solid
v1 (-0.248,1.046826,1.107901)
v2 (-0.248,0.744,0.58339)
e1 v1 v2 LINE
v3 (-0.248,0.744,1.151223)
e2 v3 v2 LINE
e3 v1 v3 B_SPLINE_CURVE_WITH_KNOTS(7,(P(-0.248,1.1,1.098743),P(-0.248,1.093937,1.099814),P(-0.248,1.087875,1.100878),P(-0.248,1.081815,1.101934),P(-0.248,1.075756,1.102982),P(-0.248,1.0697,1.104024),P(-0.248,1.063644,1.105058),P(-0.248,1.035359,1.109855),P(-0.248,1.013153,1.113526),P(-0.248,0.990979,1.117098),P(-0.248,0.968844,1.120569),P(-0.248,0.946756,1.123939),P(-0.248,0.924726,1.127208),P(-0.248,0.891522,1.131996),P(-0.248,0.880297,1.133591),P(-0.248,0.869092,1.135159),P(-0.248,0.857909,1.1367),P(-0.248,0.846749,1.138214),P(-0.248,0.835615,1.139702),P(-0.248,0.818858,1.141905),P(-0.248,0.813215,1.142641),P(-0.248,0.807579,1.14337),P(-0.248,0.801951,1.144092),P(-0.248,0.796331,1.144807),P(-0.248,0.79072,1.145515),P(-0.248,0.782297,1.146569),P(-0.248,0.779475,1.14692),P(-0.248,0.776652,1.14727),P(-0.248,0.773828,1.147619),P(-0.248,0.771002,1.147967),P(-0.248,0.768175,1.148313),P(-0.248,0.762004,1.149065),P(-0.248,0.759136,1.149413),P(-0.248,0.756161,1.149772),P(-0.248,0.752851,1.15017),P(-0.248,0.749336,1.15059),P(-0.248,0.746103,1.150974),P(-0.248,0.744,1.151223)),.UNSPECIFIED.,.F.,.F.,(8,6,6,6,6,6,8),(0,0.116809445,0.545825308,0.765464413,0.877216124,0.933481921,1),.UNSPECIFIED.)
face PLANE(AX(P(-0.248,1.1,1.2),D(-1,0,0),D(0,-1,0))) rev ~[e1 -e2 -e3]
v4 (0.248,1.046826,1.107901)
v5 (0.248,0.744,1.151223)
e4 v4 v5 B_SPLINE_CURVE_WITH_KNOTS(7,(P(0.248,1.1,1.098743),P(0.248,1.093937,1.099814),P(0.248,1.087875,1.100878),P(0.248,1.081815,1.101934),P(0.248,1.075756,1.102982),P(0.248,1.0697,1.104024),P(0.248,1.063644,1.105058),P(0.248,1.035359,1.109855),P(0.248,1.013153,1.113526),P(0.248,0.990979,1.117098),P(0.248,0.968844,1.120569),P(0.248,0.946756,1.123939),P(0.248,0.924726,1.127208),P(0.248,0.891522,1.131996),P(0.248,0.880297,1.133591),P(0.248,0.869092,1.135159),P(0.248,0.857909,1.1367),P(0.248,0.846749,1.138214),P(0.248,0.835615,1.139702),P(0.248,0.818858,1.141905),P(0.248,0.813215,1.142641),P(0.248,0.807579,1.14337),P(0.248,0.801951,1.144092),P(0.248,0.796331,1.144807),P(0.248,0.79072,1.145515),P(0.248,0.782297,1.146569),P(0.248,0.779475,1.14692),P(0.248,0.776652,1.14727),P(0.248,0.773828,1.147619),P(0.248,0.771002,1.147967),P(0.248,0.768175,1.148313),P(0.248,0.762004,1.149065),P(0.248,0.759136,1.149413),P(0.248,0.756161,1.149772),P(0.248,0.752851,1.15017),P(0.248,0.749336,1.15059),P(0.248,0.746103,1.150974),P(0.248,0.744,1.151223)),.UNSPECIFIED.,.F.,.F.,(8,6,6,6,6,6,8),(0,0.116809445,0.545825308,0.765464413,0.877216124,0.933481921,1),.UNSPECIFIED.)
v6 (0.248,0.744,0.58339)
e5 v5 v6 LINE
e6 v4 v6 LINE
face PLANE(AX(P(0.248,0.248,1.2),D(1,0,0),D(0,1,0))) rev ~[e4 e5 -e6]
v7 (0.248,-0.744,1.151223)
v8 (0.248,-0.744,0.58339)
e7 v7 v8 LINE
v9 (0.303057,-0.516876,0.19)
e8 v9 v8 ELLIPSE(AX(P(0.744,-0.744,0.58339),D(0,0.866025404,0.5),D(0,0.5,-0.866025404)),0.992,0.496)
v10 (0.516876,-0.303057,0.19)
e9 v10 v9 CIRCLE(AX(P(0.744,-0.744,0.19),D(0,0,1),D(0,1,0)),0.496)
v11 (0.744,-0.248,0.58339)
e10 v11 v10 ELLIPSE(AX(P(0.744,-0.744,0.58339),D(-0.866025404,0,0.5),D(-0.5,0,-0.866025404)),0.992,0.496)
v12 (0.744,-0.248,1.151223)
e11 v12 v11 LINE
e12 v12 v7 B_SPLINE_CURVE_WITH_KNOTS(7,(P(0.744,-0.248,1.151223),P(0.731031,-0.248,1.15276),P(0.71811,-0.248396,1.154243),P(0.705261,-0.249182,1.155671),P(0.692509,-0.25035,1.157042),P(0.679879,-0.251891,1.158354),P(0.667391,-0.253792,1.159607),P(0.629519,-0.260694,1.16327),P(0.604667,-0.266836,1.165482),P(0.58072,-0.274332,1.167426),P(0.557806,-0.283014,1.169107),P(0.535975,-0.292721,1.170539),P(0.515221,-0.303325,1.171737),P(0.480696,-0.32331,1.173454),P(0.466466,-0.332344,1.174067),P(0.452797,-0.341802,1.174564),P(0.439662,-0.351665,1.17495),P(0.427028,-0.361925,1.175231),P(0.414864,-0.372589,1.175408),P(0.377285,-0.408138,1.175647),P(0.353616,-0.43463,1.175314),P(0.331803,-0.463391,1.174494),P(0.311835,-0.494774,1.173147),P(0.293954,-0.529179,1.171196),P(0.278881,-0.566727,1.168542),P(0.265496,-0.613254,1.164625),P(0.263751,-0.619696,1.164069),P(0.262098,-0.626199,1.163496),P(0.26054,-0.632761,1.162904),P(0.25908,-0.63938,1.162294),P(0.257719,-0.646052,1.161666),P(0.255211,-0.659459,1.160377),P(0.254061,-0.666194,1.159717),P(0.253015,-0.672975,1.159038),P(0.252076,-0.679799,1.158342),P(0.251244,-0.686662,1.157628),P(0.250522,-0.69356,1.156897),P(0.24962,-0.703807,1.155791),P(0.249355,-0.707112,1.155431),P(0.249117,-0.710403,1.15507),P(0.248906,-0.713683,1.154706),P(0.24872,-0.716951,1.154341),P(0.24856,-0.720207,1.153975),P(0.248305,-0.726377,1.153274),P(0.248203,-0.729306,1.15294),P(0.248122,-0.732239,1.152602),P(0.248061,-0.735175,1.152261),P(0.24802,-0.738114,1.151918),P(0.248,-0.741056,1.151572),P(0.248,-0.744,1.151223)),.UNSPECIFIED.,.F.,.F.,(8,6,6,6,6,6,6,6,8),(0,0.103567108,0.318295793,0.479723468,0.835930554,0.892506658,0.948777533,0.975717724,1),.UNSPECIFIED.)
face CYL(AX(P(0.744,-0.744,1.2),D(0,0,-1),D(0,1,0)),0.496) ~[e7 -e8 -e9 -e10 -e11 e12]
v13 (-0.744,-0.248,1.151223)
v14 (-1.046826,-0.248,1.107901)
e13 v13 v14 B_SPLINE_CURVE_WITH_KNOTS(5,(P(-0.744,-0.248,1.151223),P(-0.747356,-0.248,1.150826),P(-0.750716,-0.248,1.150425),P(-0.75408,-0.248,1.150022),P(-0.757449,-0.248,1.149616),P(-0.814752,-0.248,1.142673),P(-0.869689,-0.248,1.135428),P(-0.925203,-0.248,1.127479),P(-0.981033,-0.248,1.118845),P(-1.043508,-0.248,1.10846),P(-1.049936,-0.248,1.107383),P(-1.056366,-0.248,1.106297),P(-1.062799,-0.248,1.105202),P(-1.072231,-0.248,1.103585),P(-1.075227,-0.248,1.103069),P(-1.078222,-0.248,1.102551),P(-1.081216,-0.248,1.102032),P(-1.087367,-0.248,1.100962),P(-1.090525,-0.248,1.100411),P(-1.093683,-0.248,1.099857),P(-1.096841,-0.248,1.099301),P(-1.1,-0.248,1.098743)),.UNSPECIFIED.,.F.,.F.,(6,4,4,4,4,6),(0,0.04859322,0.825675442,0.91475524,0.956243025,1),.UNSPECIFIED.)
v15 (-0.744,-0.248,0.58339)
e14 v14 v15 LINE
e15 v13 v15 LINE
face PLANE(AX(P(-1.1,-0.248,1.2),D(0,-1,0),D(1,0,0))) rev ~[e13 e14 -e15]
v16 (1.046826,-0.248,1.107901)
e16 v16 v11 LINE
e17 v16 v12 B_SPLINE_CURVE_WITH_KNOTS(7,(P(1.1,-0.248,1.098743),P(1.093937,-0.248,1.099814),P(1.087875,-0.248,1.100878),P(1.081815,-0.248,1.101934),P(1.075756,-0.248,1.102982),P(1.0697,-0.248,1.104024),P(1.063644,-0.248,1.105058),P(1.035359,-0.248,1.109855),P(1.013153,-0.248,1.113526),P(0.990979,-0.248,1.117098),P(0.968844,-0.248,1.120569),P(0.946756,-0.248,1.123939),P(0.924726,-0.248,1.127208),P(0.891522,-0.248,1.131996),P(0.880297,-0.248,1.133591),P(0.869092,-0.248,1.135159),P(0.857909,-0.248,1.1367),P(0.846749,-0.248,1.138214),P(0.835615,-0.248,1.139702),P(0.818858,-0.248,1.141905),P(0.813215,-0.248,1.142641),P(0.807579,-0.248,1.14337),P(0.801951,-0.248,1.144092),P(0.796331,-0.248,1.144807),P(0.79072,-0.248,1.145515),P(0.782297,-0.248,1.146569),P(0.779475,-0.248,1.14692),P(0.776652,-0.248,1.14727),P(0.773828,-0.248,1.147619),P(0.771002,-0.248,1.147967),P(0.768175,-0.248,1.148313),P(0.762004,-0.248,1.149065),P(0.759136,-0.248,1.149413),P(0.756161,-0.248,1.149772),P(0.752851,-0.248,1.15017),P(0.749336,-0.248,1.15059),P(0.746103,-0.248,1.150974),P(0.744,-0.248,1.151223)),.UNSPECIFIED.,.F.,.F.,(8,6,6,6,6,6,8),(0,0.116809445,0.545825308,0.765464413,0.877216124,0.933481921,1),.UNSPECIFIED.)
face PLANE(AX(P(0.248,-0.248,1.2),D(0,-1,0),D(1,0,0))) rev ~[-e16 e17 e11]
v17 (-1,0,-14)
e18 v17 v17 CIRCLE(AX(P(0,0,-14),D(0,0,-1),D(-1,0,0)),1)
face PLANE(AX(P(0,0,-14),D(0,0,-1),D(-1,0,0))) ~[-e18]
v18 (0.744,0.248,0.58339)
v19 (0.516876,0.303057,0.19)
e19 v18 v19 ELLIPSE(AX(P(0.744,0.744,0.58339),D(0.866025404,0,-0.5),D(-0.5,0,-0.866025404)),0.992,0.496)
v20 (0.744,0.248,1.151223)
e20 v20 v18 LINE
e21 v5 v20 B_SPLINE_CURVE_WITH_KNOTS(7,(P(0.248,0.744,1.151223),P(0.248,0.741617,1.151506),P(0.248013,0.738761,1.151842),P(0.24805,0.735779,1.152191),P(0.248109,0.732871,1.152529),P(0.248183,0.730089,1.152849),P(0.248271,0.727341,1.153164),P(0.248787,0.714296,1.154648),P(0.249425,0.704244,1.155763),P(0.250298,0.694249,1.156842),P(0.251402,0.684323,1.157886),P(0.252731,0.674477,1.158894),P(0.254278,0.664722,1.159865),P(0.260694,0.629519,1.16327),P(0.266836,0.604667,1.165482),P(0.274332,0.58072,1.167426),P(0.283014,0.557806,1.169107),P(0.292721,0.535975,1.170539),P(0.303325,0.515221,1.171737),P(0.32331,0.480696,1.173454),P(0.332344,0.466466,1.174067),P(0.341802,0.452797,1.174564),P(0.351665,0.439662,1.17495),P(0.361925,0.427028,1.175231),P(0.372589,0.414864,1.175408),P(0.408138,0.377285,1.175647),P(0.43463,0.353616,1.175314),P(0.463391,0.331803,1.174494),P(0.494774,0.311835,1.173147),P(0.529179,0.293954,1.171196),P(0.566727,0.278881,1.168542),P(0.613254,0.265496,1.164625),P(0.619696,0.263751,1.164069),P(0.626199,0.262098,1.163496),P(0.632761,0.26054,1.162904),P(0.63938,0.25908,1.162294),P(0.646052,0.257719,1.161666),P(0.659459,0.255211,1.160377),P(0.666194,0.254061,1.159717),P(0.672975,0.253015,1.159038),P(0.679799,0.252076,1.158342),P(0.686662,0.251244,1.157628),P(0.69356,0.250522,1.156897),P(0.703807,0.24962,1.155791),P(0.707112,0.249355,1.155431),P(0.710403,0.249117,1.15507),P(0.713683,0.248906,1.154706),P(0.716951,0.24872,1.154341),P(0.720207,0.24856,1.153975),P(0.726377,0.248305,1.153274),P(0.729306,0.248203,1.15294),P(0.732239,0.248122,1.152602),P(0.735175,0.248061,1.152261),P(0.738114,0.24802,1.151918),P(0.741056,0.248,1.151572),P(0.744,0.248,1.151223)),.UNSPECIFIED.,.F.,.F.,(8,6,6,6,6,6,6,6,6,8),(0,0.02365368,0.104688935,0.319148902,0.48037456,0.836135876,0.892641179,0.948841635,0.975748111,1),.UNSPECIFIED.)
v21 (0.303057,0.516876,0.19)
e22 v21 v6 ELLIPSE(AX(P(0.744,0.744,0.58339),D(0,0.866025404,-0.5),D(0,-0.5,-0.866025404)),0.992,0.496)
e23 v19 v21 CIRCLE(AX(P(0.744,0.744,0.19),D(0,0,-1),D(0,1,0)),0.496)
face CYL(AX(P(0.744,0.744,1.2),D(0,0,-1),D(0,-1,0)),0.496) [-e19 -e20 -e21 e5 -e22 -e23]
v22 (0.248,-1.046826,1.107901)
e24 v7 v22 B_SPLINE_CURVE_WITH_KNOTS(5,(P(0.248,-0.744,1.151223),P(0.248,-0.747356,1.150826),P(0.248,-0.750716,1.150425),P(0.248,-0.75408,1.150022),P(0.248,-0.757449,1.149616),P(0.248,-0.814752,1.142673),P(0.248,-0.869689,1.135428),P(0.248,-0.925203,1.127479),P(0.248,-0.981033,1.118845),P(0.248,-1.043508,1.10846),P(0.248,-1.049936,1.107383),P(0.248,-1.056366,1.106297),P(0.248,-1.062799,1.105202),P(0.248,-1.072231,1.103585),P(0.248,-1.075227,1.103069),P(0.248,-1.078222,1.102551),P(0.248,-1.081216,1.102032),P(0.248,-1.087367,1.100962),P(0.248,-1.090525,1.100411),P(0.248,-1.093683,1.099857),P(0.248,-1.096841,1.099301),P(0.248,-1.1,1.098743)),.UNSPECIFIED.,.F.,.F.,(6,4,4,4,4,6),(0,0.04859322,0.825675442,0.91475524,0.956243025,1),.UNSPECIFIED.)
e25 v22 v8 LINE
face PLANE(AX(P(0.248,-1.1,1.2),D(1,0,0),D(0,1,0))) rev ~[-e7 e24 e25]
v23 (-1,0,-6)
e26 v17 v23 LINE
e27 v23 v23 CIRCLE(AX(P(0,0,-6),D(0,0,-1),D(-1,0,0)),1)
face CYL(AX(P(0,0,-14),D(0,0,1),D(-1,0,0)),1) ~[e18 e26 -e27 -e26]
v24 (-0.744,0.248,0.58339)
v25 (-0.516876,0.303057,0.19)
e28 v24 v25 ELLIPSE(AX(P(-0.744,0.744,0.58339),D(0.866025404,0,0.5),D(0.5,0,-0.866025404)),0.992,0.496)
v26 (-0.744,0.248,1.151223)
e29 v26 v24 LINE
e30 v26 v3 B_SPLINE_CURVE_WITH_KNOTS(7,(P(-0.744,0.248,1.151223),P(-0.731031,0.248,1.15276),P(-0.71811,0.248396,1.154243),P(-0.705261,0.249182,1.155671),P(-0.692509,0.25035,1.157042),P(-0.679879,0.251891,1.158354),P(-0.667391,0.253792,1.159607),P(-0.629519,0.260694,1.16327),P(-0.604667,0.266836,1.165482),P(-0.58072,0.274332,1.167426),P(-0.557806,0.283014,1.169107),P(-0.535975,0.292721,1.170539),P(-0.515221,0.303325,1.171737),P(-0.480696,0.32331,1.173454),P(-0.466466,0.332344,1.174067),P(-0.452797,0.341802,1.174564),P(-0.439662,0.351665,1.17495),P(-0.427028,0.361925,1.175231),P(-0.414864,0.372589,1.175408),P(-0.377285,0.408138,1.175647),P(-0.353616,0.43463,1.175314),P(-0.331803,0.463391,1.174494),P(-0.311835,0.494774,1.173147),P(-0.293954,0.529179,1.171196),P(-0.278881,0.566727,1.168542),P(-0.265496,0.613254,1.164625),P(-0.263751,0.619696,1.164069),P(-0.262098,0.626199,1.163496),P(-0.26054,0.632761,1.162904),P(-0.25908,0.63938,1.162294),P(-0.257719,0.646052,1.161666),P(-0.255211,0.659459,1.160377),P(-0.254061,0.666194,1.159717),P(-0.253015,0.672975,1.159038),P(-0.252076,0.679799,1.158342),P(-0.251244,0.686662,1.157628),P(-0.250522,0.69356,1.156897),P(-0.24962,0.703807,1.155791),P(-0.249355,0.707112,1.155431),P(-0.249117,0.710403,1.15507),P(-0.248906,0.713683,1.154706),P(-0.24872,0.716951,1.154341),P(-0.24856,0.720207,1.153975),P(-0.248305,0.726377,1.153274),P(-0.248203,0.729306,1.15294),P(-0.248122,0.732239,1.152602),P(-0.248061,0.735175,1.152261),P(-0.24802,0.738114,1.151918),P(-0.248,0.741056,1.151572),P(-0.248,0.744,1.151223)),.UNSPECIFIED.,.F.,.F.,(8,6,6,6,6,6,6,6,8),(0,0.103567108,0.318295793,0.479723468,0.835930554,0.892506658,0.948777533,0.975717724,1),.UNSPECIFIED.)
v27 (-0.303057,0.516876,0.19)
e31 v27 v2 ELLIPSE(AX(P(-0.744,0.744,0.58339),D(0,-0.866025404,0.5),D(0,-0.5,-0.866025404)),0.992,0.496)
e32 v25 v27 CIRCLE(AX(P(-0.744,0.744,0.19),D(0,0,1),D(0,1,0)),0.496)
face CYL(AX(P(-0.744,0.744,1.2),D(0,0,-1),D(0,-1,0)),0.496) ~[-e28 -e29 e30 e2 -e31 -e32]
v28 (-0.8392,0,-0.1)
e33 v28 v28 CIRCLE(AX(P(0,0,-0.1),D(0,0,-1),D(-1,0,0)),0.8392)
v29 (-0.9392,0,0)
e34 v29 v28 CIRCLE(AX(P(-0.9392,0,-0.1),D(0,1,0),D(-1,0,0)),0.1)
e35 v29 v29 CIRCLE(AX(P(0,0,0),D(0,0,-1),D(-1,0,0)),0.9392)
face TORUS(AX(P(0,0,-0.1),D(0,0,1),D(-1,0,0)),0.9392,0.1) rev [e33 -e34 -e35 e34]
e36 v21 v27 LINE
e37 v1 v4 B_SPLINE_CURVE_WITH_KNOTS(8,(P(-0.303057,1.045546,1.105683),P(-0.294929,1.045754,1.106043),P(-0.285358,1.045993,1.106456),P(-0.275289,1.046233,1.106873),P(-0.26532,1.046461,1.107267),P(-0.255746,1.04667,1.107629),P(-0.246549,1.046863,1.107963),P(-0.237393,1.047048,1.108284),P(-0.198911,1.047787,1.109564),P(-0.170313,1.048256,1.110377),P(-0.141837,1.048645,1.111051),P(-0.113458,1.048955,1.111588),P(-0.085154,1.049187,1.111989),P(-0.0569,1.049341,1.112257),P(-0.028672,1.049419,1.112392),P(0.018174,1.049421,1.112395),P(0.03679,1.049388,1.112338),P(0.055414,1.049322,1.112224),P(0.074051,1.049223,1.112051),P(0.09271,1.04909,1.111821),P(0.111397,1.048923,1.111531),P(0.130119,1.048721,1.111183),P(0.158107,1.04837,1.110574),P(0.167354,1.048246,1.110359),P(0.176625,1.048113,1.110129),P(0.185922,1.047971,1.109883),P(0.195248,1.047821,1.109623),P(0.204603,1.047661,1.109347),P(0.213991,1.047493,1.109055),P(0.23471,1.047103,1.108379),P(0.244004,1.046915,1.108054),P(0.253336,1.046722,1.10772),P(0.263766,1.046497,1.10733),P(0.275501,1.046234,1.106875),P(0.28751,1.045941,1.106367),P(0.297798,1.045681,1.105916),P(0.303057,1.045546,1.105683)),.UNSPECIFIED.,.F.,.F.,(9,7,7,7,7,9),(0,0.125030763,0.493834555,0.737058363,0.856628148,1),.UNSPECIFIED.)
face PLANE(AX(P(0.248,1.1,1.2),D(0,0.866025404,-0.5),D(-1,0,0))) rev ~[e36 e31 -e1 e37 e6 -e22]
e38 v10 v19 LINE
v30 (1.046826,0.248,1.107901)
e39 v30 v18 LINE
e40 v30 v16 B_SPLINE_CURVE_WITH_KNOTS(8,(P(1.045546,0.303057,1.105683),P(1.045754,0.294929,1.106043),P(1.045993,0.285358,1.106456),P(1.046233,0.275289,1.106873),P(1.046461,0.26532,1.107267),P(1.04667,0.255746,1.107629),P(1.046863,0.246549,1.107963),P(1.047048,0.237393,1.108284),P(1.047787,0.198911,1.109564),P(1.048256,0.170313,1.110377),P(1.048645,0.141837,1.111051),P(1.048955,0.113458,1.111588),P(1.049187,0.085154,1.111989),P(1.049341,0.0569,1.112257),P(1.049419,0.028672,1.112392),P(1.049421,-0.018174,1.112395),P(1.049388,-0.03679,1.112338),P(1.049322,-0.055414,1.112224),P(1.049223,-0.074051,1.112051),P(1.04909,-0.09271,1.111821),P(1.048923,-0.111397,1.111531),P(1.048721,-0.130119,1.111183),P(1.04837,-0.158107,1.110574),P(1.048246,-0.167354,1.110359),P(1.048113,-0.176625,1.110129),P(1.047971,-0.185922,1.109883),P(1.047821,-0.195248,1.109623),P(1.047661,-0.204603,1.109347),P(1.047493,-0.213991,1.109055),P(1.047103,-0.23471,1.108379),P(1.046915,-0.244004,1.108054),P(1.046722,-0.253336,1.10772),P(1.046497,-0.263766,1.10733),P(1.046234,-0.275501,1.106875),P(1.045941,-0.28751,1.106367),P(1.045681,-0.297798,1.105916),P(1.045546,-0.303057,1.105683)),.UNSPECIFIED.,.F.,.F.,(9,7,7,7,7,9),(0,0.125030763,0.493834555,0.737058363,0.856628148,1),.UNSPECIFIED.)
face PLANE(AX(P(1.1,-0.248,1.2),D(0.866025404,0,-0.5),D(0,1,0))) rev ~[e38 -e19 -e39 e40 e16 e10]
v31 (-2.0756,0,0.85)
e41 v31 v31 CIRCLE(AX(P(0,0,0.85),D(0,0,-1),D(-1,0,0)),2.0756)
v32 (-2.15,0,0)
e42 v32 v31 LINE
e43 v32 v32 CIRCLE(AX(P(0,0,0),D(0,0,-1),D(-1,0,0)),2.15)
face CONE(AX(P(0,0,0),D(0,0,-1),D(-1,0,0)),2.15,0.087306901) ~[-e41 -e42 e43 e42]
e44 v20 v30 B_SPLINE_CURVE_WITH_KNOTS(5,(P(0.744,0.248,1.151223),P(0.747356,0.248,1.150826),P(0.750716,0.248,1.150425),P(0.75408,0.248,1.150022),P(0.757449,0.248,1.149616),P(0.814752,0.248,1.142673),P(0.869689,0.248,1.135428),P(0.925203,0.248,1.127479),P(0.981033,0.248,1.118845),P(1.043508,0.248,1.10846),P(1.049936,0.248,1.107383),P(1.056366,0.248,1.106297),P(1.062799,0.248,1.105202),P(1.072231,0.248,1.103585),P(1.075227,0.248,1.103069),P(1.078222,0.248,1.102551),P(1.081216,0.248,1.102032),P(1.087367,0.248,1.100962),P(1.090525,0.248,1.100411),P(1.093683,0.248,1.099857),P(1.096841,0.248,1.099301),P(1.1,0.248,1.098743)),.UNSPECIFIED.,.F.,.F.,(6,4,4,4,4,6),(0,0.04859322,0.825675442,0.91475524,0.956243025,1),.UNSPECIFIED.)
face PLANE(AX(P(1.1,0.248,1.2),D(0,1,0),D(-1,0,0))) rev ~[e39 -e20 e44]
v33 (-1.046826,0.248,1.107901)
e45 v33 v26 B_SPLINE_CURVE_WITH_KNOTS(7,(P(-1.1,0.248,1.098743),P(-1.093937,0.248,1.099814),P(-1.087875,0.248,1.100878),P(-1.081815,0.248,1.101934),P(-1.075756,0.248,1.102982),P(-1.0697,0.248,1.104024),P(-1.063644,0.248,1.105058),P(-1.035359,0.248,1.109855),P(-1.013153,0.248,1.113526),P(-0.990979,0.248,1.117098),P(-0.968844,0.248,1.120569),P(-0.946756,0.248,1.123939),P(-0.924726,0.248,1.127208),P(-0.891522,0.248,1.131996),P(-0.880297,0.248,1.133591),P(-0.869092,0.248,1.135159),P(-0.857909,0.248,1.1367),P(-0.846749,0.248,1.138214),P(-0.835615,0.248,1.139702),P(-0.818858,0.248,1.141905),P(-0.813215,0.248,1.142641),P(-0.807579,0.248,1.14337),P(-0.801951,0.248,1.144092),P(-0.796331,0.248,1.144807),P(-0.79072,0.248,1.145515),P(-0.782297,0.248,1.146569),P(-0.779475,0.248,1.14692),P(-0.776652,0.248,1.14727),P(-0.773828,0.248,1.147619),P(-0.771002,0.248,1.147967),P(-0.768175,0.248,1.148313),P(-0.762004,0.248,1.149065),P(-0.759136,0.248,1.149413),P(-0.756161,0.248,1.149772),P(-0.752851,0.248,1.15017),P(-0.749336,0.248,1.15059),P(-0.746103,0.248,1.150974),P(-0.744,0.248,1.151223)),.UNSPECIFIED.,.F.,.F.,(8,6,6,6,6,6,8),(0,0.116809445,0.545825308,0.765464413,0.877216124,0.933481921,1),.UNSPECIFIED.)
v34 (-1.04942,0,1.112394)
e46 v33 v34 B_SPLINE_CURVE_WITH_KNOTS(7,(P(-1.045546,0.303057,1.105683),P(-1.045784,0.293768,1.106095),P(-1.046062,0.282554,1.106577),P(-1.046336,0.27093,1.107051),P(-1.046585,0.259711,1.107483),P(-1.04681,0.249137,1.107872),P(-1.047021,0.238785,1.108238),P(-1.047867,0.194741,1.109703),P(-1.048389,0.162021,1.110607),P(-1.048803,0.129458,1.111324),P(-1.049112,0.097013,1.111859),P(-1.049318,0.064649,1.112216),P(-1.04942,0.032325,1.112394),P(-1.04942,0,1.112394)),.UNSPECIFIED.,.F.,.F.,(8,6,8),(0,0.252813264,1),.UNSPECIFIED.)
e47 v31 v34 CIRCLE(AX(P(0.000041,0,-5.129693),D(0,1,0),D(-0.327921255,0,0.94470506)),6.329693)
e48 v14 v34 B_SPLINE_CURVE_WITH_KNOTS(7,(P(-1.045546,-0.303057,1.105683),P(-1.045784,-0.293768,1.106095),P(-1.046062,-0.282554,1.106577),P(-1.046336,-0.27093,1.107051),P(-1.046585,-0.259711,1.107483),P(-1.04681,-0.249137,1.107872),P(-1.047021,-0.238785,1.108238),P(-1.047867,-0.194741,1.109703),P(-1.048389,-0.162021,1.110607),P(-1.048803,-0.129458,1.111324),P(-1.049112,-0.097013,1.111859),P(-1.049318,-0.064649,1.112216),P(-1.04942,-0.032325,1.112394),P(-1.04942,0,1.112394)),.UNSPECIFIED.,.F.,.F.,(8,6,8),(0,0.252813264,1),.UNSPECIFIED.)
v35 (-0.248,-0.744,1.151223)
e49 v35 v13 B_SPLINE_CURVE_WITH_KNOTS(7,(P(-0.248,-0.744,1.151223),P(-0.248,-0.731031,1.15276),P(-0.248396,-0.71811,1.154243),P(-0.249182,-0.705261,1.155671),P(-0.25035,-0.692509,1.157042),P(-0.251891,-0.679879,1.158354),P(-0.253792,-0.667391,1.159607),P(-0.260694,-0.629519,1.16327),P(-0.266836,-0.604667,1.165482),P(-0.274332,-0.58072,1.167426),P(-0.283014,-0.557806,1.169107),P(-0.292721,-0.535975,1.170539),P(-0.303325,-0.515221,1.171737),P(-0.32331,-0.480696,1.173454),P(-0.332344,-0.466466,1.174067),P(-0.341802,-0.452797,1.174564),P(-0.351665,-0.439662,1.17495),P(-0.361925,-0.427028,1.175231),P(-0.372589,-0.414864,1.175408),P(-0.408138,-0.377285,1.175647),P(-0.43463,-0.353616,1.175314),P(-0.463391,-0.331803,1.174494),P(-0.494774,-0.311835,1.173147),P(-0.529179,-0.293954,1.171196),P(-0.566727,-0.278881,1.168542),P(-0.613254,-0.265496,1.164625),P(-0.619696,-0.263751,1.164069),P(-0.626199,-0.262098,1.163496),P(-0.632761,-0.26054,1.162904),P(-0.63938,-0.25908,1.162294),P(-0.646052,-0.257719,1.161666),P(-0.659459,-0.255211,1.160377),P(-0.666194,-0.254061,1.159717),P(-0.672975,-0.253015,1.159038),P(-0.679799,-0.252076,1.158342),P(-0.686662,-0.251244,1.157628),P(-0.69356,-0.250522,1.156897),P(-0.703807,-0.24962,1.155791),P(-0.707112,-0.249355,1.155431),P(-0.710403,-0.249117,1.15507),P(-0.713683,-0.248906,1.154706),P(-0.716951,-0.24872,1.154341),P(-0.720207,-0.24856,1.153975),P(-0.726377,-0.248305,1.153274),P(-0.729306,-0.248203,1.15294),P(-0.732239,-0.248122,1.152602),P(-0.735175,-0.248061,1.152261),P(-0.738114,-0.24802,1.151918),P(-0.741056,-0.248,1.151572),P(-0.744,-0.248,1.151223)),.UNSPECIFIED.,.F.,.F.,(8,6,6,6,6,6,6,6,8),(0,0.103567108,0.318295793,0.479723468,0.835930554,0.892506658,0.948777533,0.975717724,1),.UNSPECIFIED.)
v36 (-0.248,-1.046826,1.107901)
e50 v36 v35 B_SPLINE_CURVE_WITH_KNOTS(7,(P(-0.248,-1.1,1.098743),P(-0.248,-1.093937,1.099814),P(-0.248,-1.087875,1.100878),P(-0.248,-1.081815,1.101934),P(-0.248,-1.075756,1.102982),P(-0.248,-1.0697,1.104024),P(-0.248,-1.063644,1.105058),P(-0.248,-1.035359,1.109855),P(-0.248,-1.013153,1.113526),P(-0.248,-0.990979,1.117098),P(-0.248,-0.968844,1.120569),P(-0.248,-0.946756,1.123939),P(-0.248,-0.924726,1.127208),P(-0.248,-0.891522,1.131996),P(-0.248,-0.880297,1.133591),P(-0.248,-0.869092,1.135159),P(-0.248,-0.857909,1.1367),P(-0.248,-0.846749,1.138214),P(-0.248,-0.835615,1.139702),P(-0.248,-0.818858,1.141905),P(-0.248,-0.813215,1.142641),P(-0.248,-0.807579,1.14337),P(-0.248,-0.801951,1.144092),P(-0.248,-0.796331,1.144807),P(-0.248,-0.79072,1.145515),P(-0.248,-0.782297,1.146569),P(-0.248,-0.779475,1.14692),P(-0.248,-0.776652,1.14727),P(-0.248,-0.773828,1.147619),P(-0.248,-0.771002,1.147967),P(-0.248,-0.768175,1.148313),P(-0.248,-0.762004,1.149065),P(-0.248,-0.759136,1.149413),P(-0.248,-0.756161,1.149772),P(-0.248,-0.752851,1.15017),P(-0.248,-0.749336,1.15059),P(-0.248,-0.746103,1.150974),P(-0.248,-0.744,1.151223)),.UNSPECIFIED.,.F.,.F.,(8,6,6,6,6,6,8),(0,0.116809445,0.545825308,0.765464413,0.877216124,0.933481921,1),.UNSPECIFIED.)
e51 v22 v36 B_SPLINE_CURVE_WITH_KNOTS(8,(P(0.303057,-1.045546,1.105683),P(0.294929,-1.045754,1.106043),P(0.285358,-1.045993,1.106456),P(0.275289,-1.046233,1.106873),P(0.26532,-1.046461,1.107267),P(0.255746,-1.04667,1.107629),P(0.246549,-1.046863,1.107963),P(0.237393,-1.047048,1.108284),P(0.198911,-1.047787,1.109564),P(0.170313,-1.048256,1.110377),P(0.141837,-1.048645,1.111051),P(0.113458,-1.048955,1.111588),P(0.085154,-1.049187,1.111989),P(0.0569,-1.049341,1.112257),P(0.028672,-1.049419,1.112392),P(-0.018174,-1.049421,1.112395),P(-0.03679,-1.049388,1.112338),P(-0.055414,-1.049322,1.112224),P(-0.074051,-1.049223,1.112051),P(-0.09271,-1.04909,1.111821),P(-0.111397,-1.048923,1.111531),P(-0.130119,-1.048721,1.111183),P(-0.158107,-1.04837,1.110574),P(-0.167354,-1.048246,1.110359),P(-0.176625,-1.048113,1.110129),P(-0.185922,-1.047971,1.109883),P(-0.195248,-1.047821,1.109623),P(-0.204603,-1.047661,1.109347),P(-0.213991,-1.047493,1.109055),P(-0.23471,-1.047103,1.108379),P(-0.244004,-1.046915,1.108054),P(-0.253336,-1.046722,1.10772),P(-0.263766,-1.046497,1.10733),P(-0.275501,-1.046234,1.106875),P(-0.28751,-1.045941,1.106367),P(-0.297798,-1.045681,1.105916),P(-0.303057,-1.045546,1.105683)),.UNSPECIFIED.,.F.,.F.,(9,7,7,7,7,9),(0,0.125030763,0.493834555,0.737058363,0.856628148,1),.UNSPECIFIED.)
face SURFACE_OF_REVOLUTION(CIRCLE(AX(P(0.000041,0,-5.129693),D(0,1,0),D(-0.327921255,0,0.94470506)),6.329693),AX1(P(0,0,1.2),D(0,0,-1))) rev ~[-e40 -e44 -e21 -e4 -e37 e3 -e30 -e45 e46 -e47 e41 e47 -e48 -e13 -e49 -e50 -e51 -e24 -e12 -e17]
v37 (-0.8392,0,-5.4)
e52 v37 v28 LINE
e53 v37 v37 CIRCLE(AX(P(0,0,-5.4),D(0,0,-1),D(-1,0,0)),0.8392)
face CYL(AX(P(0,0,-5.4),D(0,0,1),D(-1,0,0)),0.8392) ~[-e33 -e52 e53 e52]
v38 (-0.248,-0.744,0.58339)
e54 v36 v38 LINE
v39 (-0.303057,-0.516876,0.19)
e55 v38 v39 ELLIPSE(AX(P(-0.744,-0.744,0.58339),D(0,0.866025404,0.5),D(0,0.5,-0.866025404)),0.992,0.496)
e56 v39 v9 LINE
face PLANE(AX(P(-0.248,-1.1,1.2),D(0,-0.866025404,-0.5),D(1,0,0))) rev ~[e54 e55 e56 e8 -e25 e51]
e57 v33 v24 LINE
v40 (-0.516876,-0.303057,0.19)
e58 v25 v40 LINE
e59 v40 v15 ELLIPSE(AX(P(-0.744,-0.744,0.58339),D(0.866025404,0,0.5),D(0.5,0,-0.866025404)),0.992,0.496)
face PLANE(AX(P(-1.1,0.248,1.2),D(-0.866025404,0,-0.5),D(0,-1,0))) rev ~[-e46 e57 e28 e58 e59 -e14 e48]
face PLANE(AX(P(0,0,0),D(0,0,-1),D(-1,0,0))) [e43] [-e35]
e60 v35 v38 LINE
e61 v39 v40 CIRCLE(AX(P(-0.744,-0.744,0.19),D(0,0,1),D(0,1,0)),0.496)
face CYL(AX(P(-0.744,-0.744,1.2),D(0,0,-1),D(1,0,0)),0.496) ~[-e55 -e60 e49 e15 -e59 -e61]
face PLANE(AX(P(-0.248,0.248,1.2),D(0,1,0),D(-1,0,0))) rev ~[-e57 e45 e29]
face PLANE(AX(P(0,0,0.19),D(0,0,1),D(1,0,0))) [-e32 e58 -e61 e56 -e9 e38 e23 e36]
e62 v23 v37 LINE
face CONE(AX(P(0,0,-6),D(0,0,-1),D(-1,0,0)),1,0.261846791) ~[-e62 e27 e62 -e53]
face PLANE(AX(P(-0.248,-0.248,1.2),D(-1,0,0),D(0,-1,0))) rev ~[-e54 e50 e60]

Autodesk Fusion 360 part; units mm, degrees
sketch "Sketch1" plane through (0, 0, 0) normal (0, 1, 0) x (1, 0, 0)
  line L0 (0, -1.2) -> (0, 6)
  line L1 (-2.15, 0) -> (-2.0756, -0.85)
  line L2 (-2.15, 0) -> (-0.8392, 0)
  arc A0 (-2.0756, -0.85) -> (0, -1.2) centre (0, 5.1297) ccw
  line L3 (0, 6) -> (-1, 6)
  line L4 (-1, 6) -> (-1, 0.75)
  line L5 (-1, 0.75) -> (-0.8392, 0.15)
  line L6 (-0.8392, 0.15) -> (-0.8392, 0)
  dimension "d13" = 5
  dimension "d14" = 4.3
  dimension "d18" = 2
  dimension "d23" = 15
  dimension "d53" = 1.2
  dimension "d55" = 5.25
  dimension "d56" = 6
  dimension "d57" = 5.85
  dimension "d60" = 0.85
revolve "Revolve1" add sketch "Sketch1" angle 360 about axis through (0, 0, 1.2) along (0, 0, -1) makes body 1
fillet "Fillet2" radius 0.1 1 edges at (-0.7824, 0.3035, 0) on bodies 1
ref_plane "WorkPlane1" through (0, 0, 1.2) normal (0, 0, 1) x (1, 0, 0)
sketch "Sketch2" plane through (0, 0, 1.2) normal (0, 0, 1) x (1, 0, 0)
  line L0 (-0.248, 0.248) -> (-1.1, 0.248)
  line L1 (-1.1, 0.248) -> (-1.1, -0.248)
  line L2 (-1.1, -0.248) -> (-0.248, -0.248)
  line L3 (-0.248, -0.248) -> (-0.248, -1.1)
  line L4 (-0.248, -1.1) -> (0.248, -1.1)
  line L5 (0.248, -1.1) -> (0.248, -0.248)
  line L6 (0.248, -0.248) -> (1.1, -0.248)
  line L7 (1.1, -0.248) -> (1.1, 0.248)
  line L8 (1.1, 0.248) -> (0.248, 0.248)
  line L9 (0.248, 0.248) -> (0.248, 1.1)
  line L10 (0.248, 1.1) -> (-0.248, 1.1)
  line L11 (-0.248, 1.1) -> (-0.248, 0.248)
  dimension "d63" = 0.496
  dimension "d65" = 360
  dimension "d66" = 2.2
extrude "Extrude1" add sketch "Sketch2" against normal blind 1.01 separate body makes body 2
draft "Draft1" angle -30 neutral plane through (0, 0, 1.2) pull (0, 0, 1) 4 faces at (-0.0827, -1.1, 0.8633) (1.1, -0.0827, 0.8633) (0.0827, 1.1, 0.8633) (-1.1, 0.0827, 0.8633) on bodies 2
fillet "Fillet1" radius 0.496 4 edges at (0.248, -0.248, 0.695) (0.248, 0.248, 0.695) (-0.248, -0.248, 0.695) (-0.248, 0.248, 0.695) on bodies 2
combine "Combine1" operation cut target body 1 tool bodies 2
thread "Thread1" thread offset 0 thread length 10
equation "adsk_nomdia = 2.00 mm"
equation "adsk_nomlen = 6.00 mm"
equation "adsk_headdia = 4.30 mm"
equation "adsk_baseh = 0.85 mm"
equation "adsk_phildia = 2.20 mm"
equation "adsk_midfillet = 0.10 mm"
equation "adsk_thrlen = 5.25 mm"
equation "adsk_phildepth = 1.01 mm"
equation "adsk_thrrun = 0.60 mm"
equation "adsk_thrang = 15.00 deg"
equation "adsk_headang = 5.00 deg"
equation "d13 = adsk_headang"
equation "d14 = adsk_headdia"
equation "adsk_ovalh = 0.35 mm"
equation "d18 = adsk_nomdia"
equation "d23 = adsk_thrang"
equation "d32 = adsk_baseh + adsk_ovalh"
equation "adsk_philwidth = 0.496 mm"
equation "d52 = adsk_midfillet"
equation "d53 = adsk_baseh + adsk_ovalh"
equation "d55 = adsk_thrlen"
equation "d56 = adsk_nomlen"
equation "d57 = adsk_thrlen + adsk_thrrun"
equation "d60 = adsk_baseh"
equation "d63 = adsk_philwidth"
equation "d66 = adsk_phildia"
equation "d68 = adsk_philwidth"
properties part number "BHS JIS B 1111 - M2x6 Acero 4.6 Normal"

Autodesk Fusion 360 part; units mm, degrees
sketch "Sketch1" plane through (0, 0, 0) normal (0, 1, 0) x (1, 0, 0)
  line L0 (0, -1.2) -> (0, 10)
  line L1 (-2.15, 0) -> (-2.0756, -0.85)
  line L2 (-2.15, 0) -> (-0.8392, 0)
  arc A0 (-2.0756, -0.85) -> (0, -1.2) centre (0, 5.1297) ccw
  line L3 (0, 10) -> (-1, 10)
  line L4 (-1, 10) -> (-1, 2)
  line L5 (-1, 2) -> (-0.8392, 1.4)
  line L6 (-0.8392, 1.4) -> (-0.8392, 0)
  dimension "d13" = 5
  dimension "d14" = 4.3
  dimension "d18" = 2
  dimension "d23" = 15
  dimension "d53" = 1.2
  dimension "d55" = 8
  dimension "d56" = 10
  dimension "d57" = 8.6
  dimension "d60" = 0.85
revolve "Revolve1" add sketch "Sketch1" angle 360 about axis through (0, 0, 1.2) along (0, 0, -1) makes body 1
fillet "Fillet2" radius 0.1 1 edges at (-0.7824, 0.3035, 0) on bodies 1
ref_plane "WorkPlane1" through (0, 0, 1.2) normal (0, 0, 1) x (1, 0, 0)
sketch "Sketch2" plane through (0, 0, 1.2) normal (0, 0, 1) x (1, 0, 0)
  line L0 (-0.248, 0.248) -> (-1.1, 0.248)
  line L1 (-1.1, 0.248) -> (-1.1, -0.248)
  line L2 (-1.1, -0.248) -> (-0.248, -0.248)
  line L3 (-0.248, -0.248) -> (-0.248, -1.1)
  line L4 (-0.248, -1.1) -> (0.248, -1.1)
  line L5 (0.248, -1.1) -> (0.248, -0.248)
  line L6 (0.248, -0.248) -> (1.1, -0.248)
  line L7 (1.1, -0.248) -> (1.1, 0.248)
  line L8 (1.1, 0.248) -> (0.248, 0.248)
  line L9 (0.248, 0.248) -> (0.248, 1.1)
  line L10 (0.248, 1.1) -> (-0.248, 1.1)
  line L11 (-0.248, 1.1) -> (-0.248, 0.248)
  dimension "d63" = 0.496
  dimension "d65" = 360
  dimension "d66" = 2.2
extrude "Extrude1" add sketch "Sketch2" against normal blind 1.01 separate body makes body 2
draft "Draft1" angle -30 neutral plane through (0, 0, 1.2) pull (0, 0, 1) 4 faces at (-0.0827, -1.1, 0.8633) (1.1, -0.0827, 0.8633) (0.0827, 1.1, 0.8633) (-1.1, 0.0827, 0.8633) on bodies 2
fillet "Fillet1" radius 0.496 4 edges at (0.248, -0.248, 0.695) (0.248, 0.248, 0.695) (-0.248, -0.248, 0.695) (-0.248, 0.248, 0.695) on bodies 2
combine "Combine1" operation cut target body 1 tool bodies 2
thread "Thread1" thread offset 0 thread length 10
equation "adsk_nomdia = 2.00 mm"
equation "adsk_nomlen = 10.00 mm"
equation "adsk_headdia = 4.30 mm"
equation "adsk_baseh = 0.85 mm"
equation "adsk_phildia = 2.20 mm"
equation "adsk_midfillet = 0.10 mm"
equation "adsk_thrlen = 8.00 mm"
equation "adsk_phildepth = 1.01 mm"
equation "adsk_thrrun = 0.60 mm"
equation "adsk_thrang = 15.00 deg"
equation "adsk_headang = 5.00 deg"
equation "d13 = adsk_headang"
equation "d14 = adsk_headdia"
equation "adsk_ovalh = 0.35 mm"
equation "d18 = adsk_nomdia"
equation "d23 = adsk_thrang"
equation "d32 = adsk_baseh + adsk_ovalh"
equation "adsk_philwidth = 0.496 mm"
equation "d52 = adsk_midfillet"
equation "d53 = adsk_baseh + adsk_ovalh"
equation "d55 = adsk_thrlen"
equation "d56 = adsk_nomlen"
equation "d57 = adsk_thrlen + adsk_thrrun"
equation "d60 = adsk_baseh"
equation "d63 = adsk_philwidth"
equation "d66 = adsk_phildia"
equation "d68 = adsk_philwidth"
properties part number "BHS JIS B 1111 - M2x10 Acero 4.6 Normal"

Autodesk Fusion 360 part; units mm, degrees
sketch "Sketch1" plane through (0, 0, 0) normal (0, 1, 0) x (1, 0, 0)
  line L0 (0, -1.2) -> (0, 14)
  line L1 (-2.15, 0) -> (-2.0756, -0.85)
  line L2 (-2.15, 0) -> (-0.8392, 0)
  arc A0 (-2.0756, -0.85) -> (0, -1.2) centre (0, 5.1297) ccw
  line L3 (0, 14) -> (-1, 14)
  line L4 (-1, 14) -> (-1, 6)
  line L5 (-1, 6) -> (-0.8392, 5.4)
  line L6 (-0.8392, 5.4) -> (-0.8392, 0)
  dimension "d13" = 5
  dimension "d14" = 4.3
  dimension "d18" = 2
  dimension "d23" = 15
  dimension "d53" = 1.2
  dimension "d55" = 8
  dimension "d56" = 14
  dimension "d57" = 8.6
  dimension "d60" = 0.85
revolve "Revolve1" add sketch "Sketch1" angle 360 about axis through (0, 0, 1.2) along (0, 0, -1) makes body 1
fillet "Fillet2" radius 0.1 1 edges at (-0.7824, 0.3035, 0) on bodies 1
ref_plane "WorkPlane1" through (0, 0, 1.2) normal (0, 0, 1) x (1, 0, 0)
sketch "Sketch2" plane through (0, 0, 1.2) normal (0, 0, 1) x (1, 0, 0)
  line L0 (-0.248, 0.248) -> (-1.1, 0.248)
  line L1 (-1.1, 0.248) -> (-1.1, -0.248)
  line L2 (-1.1, -0.248) -> (-0.248, -0.248)
  line L3 (-0.248, -0.248) -> (-0.248, -1.1)
  line L4 (-0.248, -1.1) -> (0.248, -1.1)
  line L5 (0.248, -1.1) -> (0.248, -0.248)
  line L6 (0.248, -0.248) -> (1.1, -0.248)
  line L7 (1.1, -0.248) -> (1.1, 0.248)
  line L8 (1.1, 0.248) -> (0.248, 0.248)
  line L9 (0.248, 0.248) -> (0.248, 1.1)
  line L10 (0.248, 1.1) -> (-0.248, 1.1)
  line L11 (-0.248, 1.1) -> (-0.248, 0.248)
  dimension "d63" = 0.496
  dimension "d65" = 360
  dimension "d66" = 2.2
extrude "Extrude1" add sketch "Sketch2" against normal blind 1.01 separate body makes body 2
draft "Draft1" angle -30 neutral plane through (0, 0, 1.2) pull (0, 0, 1) 4 faces at (-0.0827, -1.1, 0.8633) (1.1, -0.0827, 0.8633) (0.0827, 1.1, 0.8633) (-1.1, 0.0827, 0.8633) on bodies 2
fillet "Fillet1" radius 0.496 4 edges at (0.248, -0.248, 0.695) (0.248, 0.248, 0.695) (-0.248, -0.248, 0.695) (-0.248, 0.248, 0.695) on bodies 2
combine "Combine1" operation cut target body 1 tool bodies 2
thread "Thread1" thread offset 0 thread length 10
equation "adsk_nomdia = 2.00 mm"
equation "adsk_nomlen = 14.00 mm"
equation "adsk_headdia = 4.30 mm"
equation "adsk_baseh = 0.85 mm"
equation "adsk_phildia = 2.20 mm"
equation "adsk_midfillet = 0.10 mm"
equation "adsk_thrlen = 8.00 mm"
equation "adsk_phildepth = 1.01 mm"
equation "adsk_thrrun = 0.60 mm"
equation "adsk_thrang = 15.00 deg"
equation "adsk_headang = 5.00 deg"
equation "d13 = adsk_headang"
equation "d14 = adsk_headdia"
equation "adsk_ovalh = 0.35 mm"
equation "d18 = adsk_nomdia"
equation "d23 = adsk_thrang"
equation "d32 = adsk_baseh + adsk_ovalh"
equation "adsk_philwidth = 0.496 mm"
equation "d52 = adsk_midfillet"
equation "d53 = adsk_baseh + adsk_ovalh"
equation "d55 = adsk_thrlen"
equation "d56 = adsk_nomlen"
equation "d57 = adsk_thrlen + adsk_thrrun"
equation "d60 = adsk_baseh"
equation "d63 = adsk_philwidth"
equation "d66 = adsk_phildia"
equation "d68 = adsk_philwidth"
properties part number "BHS JIS B 1111 - M2x14 Acero 4.6 Normal"
